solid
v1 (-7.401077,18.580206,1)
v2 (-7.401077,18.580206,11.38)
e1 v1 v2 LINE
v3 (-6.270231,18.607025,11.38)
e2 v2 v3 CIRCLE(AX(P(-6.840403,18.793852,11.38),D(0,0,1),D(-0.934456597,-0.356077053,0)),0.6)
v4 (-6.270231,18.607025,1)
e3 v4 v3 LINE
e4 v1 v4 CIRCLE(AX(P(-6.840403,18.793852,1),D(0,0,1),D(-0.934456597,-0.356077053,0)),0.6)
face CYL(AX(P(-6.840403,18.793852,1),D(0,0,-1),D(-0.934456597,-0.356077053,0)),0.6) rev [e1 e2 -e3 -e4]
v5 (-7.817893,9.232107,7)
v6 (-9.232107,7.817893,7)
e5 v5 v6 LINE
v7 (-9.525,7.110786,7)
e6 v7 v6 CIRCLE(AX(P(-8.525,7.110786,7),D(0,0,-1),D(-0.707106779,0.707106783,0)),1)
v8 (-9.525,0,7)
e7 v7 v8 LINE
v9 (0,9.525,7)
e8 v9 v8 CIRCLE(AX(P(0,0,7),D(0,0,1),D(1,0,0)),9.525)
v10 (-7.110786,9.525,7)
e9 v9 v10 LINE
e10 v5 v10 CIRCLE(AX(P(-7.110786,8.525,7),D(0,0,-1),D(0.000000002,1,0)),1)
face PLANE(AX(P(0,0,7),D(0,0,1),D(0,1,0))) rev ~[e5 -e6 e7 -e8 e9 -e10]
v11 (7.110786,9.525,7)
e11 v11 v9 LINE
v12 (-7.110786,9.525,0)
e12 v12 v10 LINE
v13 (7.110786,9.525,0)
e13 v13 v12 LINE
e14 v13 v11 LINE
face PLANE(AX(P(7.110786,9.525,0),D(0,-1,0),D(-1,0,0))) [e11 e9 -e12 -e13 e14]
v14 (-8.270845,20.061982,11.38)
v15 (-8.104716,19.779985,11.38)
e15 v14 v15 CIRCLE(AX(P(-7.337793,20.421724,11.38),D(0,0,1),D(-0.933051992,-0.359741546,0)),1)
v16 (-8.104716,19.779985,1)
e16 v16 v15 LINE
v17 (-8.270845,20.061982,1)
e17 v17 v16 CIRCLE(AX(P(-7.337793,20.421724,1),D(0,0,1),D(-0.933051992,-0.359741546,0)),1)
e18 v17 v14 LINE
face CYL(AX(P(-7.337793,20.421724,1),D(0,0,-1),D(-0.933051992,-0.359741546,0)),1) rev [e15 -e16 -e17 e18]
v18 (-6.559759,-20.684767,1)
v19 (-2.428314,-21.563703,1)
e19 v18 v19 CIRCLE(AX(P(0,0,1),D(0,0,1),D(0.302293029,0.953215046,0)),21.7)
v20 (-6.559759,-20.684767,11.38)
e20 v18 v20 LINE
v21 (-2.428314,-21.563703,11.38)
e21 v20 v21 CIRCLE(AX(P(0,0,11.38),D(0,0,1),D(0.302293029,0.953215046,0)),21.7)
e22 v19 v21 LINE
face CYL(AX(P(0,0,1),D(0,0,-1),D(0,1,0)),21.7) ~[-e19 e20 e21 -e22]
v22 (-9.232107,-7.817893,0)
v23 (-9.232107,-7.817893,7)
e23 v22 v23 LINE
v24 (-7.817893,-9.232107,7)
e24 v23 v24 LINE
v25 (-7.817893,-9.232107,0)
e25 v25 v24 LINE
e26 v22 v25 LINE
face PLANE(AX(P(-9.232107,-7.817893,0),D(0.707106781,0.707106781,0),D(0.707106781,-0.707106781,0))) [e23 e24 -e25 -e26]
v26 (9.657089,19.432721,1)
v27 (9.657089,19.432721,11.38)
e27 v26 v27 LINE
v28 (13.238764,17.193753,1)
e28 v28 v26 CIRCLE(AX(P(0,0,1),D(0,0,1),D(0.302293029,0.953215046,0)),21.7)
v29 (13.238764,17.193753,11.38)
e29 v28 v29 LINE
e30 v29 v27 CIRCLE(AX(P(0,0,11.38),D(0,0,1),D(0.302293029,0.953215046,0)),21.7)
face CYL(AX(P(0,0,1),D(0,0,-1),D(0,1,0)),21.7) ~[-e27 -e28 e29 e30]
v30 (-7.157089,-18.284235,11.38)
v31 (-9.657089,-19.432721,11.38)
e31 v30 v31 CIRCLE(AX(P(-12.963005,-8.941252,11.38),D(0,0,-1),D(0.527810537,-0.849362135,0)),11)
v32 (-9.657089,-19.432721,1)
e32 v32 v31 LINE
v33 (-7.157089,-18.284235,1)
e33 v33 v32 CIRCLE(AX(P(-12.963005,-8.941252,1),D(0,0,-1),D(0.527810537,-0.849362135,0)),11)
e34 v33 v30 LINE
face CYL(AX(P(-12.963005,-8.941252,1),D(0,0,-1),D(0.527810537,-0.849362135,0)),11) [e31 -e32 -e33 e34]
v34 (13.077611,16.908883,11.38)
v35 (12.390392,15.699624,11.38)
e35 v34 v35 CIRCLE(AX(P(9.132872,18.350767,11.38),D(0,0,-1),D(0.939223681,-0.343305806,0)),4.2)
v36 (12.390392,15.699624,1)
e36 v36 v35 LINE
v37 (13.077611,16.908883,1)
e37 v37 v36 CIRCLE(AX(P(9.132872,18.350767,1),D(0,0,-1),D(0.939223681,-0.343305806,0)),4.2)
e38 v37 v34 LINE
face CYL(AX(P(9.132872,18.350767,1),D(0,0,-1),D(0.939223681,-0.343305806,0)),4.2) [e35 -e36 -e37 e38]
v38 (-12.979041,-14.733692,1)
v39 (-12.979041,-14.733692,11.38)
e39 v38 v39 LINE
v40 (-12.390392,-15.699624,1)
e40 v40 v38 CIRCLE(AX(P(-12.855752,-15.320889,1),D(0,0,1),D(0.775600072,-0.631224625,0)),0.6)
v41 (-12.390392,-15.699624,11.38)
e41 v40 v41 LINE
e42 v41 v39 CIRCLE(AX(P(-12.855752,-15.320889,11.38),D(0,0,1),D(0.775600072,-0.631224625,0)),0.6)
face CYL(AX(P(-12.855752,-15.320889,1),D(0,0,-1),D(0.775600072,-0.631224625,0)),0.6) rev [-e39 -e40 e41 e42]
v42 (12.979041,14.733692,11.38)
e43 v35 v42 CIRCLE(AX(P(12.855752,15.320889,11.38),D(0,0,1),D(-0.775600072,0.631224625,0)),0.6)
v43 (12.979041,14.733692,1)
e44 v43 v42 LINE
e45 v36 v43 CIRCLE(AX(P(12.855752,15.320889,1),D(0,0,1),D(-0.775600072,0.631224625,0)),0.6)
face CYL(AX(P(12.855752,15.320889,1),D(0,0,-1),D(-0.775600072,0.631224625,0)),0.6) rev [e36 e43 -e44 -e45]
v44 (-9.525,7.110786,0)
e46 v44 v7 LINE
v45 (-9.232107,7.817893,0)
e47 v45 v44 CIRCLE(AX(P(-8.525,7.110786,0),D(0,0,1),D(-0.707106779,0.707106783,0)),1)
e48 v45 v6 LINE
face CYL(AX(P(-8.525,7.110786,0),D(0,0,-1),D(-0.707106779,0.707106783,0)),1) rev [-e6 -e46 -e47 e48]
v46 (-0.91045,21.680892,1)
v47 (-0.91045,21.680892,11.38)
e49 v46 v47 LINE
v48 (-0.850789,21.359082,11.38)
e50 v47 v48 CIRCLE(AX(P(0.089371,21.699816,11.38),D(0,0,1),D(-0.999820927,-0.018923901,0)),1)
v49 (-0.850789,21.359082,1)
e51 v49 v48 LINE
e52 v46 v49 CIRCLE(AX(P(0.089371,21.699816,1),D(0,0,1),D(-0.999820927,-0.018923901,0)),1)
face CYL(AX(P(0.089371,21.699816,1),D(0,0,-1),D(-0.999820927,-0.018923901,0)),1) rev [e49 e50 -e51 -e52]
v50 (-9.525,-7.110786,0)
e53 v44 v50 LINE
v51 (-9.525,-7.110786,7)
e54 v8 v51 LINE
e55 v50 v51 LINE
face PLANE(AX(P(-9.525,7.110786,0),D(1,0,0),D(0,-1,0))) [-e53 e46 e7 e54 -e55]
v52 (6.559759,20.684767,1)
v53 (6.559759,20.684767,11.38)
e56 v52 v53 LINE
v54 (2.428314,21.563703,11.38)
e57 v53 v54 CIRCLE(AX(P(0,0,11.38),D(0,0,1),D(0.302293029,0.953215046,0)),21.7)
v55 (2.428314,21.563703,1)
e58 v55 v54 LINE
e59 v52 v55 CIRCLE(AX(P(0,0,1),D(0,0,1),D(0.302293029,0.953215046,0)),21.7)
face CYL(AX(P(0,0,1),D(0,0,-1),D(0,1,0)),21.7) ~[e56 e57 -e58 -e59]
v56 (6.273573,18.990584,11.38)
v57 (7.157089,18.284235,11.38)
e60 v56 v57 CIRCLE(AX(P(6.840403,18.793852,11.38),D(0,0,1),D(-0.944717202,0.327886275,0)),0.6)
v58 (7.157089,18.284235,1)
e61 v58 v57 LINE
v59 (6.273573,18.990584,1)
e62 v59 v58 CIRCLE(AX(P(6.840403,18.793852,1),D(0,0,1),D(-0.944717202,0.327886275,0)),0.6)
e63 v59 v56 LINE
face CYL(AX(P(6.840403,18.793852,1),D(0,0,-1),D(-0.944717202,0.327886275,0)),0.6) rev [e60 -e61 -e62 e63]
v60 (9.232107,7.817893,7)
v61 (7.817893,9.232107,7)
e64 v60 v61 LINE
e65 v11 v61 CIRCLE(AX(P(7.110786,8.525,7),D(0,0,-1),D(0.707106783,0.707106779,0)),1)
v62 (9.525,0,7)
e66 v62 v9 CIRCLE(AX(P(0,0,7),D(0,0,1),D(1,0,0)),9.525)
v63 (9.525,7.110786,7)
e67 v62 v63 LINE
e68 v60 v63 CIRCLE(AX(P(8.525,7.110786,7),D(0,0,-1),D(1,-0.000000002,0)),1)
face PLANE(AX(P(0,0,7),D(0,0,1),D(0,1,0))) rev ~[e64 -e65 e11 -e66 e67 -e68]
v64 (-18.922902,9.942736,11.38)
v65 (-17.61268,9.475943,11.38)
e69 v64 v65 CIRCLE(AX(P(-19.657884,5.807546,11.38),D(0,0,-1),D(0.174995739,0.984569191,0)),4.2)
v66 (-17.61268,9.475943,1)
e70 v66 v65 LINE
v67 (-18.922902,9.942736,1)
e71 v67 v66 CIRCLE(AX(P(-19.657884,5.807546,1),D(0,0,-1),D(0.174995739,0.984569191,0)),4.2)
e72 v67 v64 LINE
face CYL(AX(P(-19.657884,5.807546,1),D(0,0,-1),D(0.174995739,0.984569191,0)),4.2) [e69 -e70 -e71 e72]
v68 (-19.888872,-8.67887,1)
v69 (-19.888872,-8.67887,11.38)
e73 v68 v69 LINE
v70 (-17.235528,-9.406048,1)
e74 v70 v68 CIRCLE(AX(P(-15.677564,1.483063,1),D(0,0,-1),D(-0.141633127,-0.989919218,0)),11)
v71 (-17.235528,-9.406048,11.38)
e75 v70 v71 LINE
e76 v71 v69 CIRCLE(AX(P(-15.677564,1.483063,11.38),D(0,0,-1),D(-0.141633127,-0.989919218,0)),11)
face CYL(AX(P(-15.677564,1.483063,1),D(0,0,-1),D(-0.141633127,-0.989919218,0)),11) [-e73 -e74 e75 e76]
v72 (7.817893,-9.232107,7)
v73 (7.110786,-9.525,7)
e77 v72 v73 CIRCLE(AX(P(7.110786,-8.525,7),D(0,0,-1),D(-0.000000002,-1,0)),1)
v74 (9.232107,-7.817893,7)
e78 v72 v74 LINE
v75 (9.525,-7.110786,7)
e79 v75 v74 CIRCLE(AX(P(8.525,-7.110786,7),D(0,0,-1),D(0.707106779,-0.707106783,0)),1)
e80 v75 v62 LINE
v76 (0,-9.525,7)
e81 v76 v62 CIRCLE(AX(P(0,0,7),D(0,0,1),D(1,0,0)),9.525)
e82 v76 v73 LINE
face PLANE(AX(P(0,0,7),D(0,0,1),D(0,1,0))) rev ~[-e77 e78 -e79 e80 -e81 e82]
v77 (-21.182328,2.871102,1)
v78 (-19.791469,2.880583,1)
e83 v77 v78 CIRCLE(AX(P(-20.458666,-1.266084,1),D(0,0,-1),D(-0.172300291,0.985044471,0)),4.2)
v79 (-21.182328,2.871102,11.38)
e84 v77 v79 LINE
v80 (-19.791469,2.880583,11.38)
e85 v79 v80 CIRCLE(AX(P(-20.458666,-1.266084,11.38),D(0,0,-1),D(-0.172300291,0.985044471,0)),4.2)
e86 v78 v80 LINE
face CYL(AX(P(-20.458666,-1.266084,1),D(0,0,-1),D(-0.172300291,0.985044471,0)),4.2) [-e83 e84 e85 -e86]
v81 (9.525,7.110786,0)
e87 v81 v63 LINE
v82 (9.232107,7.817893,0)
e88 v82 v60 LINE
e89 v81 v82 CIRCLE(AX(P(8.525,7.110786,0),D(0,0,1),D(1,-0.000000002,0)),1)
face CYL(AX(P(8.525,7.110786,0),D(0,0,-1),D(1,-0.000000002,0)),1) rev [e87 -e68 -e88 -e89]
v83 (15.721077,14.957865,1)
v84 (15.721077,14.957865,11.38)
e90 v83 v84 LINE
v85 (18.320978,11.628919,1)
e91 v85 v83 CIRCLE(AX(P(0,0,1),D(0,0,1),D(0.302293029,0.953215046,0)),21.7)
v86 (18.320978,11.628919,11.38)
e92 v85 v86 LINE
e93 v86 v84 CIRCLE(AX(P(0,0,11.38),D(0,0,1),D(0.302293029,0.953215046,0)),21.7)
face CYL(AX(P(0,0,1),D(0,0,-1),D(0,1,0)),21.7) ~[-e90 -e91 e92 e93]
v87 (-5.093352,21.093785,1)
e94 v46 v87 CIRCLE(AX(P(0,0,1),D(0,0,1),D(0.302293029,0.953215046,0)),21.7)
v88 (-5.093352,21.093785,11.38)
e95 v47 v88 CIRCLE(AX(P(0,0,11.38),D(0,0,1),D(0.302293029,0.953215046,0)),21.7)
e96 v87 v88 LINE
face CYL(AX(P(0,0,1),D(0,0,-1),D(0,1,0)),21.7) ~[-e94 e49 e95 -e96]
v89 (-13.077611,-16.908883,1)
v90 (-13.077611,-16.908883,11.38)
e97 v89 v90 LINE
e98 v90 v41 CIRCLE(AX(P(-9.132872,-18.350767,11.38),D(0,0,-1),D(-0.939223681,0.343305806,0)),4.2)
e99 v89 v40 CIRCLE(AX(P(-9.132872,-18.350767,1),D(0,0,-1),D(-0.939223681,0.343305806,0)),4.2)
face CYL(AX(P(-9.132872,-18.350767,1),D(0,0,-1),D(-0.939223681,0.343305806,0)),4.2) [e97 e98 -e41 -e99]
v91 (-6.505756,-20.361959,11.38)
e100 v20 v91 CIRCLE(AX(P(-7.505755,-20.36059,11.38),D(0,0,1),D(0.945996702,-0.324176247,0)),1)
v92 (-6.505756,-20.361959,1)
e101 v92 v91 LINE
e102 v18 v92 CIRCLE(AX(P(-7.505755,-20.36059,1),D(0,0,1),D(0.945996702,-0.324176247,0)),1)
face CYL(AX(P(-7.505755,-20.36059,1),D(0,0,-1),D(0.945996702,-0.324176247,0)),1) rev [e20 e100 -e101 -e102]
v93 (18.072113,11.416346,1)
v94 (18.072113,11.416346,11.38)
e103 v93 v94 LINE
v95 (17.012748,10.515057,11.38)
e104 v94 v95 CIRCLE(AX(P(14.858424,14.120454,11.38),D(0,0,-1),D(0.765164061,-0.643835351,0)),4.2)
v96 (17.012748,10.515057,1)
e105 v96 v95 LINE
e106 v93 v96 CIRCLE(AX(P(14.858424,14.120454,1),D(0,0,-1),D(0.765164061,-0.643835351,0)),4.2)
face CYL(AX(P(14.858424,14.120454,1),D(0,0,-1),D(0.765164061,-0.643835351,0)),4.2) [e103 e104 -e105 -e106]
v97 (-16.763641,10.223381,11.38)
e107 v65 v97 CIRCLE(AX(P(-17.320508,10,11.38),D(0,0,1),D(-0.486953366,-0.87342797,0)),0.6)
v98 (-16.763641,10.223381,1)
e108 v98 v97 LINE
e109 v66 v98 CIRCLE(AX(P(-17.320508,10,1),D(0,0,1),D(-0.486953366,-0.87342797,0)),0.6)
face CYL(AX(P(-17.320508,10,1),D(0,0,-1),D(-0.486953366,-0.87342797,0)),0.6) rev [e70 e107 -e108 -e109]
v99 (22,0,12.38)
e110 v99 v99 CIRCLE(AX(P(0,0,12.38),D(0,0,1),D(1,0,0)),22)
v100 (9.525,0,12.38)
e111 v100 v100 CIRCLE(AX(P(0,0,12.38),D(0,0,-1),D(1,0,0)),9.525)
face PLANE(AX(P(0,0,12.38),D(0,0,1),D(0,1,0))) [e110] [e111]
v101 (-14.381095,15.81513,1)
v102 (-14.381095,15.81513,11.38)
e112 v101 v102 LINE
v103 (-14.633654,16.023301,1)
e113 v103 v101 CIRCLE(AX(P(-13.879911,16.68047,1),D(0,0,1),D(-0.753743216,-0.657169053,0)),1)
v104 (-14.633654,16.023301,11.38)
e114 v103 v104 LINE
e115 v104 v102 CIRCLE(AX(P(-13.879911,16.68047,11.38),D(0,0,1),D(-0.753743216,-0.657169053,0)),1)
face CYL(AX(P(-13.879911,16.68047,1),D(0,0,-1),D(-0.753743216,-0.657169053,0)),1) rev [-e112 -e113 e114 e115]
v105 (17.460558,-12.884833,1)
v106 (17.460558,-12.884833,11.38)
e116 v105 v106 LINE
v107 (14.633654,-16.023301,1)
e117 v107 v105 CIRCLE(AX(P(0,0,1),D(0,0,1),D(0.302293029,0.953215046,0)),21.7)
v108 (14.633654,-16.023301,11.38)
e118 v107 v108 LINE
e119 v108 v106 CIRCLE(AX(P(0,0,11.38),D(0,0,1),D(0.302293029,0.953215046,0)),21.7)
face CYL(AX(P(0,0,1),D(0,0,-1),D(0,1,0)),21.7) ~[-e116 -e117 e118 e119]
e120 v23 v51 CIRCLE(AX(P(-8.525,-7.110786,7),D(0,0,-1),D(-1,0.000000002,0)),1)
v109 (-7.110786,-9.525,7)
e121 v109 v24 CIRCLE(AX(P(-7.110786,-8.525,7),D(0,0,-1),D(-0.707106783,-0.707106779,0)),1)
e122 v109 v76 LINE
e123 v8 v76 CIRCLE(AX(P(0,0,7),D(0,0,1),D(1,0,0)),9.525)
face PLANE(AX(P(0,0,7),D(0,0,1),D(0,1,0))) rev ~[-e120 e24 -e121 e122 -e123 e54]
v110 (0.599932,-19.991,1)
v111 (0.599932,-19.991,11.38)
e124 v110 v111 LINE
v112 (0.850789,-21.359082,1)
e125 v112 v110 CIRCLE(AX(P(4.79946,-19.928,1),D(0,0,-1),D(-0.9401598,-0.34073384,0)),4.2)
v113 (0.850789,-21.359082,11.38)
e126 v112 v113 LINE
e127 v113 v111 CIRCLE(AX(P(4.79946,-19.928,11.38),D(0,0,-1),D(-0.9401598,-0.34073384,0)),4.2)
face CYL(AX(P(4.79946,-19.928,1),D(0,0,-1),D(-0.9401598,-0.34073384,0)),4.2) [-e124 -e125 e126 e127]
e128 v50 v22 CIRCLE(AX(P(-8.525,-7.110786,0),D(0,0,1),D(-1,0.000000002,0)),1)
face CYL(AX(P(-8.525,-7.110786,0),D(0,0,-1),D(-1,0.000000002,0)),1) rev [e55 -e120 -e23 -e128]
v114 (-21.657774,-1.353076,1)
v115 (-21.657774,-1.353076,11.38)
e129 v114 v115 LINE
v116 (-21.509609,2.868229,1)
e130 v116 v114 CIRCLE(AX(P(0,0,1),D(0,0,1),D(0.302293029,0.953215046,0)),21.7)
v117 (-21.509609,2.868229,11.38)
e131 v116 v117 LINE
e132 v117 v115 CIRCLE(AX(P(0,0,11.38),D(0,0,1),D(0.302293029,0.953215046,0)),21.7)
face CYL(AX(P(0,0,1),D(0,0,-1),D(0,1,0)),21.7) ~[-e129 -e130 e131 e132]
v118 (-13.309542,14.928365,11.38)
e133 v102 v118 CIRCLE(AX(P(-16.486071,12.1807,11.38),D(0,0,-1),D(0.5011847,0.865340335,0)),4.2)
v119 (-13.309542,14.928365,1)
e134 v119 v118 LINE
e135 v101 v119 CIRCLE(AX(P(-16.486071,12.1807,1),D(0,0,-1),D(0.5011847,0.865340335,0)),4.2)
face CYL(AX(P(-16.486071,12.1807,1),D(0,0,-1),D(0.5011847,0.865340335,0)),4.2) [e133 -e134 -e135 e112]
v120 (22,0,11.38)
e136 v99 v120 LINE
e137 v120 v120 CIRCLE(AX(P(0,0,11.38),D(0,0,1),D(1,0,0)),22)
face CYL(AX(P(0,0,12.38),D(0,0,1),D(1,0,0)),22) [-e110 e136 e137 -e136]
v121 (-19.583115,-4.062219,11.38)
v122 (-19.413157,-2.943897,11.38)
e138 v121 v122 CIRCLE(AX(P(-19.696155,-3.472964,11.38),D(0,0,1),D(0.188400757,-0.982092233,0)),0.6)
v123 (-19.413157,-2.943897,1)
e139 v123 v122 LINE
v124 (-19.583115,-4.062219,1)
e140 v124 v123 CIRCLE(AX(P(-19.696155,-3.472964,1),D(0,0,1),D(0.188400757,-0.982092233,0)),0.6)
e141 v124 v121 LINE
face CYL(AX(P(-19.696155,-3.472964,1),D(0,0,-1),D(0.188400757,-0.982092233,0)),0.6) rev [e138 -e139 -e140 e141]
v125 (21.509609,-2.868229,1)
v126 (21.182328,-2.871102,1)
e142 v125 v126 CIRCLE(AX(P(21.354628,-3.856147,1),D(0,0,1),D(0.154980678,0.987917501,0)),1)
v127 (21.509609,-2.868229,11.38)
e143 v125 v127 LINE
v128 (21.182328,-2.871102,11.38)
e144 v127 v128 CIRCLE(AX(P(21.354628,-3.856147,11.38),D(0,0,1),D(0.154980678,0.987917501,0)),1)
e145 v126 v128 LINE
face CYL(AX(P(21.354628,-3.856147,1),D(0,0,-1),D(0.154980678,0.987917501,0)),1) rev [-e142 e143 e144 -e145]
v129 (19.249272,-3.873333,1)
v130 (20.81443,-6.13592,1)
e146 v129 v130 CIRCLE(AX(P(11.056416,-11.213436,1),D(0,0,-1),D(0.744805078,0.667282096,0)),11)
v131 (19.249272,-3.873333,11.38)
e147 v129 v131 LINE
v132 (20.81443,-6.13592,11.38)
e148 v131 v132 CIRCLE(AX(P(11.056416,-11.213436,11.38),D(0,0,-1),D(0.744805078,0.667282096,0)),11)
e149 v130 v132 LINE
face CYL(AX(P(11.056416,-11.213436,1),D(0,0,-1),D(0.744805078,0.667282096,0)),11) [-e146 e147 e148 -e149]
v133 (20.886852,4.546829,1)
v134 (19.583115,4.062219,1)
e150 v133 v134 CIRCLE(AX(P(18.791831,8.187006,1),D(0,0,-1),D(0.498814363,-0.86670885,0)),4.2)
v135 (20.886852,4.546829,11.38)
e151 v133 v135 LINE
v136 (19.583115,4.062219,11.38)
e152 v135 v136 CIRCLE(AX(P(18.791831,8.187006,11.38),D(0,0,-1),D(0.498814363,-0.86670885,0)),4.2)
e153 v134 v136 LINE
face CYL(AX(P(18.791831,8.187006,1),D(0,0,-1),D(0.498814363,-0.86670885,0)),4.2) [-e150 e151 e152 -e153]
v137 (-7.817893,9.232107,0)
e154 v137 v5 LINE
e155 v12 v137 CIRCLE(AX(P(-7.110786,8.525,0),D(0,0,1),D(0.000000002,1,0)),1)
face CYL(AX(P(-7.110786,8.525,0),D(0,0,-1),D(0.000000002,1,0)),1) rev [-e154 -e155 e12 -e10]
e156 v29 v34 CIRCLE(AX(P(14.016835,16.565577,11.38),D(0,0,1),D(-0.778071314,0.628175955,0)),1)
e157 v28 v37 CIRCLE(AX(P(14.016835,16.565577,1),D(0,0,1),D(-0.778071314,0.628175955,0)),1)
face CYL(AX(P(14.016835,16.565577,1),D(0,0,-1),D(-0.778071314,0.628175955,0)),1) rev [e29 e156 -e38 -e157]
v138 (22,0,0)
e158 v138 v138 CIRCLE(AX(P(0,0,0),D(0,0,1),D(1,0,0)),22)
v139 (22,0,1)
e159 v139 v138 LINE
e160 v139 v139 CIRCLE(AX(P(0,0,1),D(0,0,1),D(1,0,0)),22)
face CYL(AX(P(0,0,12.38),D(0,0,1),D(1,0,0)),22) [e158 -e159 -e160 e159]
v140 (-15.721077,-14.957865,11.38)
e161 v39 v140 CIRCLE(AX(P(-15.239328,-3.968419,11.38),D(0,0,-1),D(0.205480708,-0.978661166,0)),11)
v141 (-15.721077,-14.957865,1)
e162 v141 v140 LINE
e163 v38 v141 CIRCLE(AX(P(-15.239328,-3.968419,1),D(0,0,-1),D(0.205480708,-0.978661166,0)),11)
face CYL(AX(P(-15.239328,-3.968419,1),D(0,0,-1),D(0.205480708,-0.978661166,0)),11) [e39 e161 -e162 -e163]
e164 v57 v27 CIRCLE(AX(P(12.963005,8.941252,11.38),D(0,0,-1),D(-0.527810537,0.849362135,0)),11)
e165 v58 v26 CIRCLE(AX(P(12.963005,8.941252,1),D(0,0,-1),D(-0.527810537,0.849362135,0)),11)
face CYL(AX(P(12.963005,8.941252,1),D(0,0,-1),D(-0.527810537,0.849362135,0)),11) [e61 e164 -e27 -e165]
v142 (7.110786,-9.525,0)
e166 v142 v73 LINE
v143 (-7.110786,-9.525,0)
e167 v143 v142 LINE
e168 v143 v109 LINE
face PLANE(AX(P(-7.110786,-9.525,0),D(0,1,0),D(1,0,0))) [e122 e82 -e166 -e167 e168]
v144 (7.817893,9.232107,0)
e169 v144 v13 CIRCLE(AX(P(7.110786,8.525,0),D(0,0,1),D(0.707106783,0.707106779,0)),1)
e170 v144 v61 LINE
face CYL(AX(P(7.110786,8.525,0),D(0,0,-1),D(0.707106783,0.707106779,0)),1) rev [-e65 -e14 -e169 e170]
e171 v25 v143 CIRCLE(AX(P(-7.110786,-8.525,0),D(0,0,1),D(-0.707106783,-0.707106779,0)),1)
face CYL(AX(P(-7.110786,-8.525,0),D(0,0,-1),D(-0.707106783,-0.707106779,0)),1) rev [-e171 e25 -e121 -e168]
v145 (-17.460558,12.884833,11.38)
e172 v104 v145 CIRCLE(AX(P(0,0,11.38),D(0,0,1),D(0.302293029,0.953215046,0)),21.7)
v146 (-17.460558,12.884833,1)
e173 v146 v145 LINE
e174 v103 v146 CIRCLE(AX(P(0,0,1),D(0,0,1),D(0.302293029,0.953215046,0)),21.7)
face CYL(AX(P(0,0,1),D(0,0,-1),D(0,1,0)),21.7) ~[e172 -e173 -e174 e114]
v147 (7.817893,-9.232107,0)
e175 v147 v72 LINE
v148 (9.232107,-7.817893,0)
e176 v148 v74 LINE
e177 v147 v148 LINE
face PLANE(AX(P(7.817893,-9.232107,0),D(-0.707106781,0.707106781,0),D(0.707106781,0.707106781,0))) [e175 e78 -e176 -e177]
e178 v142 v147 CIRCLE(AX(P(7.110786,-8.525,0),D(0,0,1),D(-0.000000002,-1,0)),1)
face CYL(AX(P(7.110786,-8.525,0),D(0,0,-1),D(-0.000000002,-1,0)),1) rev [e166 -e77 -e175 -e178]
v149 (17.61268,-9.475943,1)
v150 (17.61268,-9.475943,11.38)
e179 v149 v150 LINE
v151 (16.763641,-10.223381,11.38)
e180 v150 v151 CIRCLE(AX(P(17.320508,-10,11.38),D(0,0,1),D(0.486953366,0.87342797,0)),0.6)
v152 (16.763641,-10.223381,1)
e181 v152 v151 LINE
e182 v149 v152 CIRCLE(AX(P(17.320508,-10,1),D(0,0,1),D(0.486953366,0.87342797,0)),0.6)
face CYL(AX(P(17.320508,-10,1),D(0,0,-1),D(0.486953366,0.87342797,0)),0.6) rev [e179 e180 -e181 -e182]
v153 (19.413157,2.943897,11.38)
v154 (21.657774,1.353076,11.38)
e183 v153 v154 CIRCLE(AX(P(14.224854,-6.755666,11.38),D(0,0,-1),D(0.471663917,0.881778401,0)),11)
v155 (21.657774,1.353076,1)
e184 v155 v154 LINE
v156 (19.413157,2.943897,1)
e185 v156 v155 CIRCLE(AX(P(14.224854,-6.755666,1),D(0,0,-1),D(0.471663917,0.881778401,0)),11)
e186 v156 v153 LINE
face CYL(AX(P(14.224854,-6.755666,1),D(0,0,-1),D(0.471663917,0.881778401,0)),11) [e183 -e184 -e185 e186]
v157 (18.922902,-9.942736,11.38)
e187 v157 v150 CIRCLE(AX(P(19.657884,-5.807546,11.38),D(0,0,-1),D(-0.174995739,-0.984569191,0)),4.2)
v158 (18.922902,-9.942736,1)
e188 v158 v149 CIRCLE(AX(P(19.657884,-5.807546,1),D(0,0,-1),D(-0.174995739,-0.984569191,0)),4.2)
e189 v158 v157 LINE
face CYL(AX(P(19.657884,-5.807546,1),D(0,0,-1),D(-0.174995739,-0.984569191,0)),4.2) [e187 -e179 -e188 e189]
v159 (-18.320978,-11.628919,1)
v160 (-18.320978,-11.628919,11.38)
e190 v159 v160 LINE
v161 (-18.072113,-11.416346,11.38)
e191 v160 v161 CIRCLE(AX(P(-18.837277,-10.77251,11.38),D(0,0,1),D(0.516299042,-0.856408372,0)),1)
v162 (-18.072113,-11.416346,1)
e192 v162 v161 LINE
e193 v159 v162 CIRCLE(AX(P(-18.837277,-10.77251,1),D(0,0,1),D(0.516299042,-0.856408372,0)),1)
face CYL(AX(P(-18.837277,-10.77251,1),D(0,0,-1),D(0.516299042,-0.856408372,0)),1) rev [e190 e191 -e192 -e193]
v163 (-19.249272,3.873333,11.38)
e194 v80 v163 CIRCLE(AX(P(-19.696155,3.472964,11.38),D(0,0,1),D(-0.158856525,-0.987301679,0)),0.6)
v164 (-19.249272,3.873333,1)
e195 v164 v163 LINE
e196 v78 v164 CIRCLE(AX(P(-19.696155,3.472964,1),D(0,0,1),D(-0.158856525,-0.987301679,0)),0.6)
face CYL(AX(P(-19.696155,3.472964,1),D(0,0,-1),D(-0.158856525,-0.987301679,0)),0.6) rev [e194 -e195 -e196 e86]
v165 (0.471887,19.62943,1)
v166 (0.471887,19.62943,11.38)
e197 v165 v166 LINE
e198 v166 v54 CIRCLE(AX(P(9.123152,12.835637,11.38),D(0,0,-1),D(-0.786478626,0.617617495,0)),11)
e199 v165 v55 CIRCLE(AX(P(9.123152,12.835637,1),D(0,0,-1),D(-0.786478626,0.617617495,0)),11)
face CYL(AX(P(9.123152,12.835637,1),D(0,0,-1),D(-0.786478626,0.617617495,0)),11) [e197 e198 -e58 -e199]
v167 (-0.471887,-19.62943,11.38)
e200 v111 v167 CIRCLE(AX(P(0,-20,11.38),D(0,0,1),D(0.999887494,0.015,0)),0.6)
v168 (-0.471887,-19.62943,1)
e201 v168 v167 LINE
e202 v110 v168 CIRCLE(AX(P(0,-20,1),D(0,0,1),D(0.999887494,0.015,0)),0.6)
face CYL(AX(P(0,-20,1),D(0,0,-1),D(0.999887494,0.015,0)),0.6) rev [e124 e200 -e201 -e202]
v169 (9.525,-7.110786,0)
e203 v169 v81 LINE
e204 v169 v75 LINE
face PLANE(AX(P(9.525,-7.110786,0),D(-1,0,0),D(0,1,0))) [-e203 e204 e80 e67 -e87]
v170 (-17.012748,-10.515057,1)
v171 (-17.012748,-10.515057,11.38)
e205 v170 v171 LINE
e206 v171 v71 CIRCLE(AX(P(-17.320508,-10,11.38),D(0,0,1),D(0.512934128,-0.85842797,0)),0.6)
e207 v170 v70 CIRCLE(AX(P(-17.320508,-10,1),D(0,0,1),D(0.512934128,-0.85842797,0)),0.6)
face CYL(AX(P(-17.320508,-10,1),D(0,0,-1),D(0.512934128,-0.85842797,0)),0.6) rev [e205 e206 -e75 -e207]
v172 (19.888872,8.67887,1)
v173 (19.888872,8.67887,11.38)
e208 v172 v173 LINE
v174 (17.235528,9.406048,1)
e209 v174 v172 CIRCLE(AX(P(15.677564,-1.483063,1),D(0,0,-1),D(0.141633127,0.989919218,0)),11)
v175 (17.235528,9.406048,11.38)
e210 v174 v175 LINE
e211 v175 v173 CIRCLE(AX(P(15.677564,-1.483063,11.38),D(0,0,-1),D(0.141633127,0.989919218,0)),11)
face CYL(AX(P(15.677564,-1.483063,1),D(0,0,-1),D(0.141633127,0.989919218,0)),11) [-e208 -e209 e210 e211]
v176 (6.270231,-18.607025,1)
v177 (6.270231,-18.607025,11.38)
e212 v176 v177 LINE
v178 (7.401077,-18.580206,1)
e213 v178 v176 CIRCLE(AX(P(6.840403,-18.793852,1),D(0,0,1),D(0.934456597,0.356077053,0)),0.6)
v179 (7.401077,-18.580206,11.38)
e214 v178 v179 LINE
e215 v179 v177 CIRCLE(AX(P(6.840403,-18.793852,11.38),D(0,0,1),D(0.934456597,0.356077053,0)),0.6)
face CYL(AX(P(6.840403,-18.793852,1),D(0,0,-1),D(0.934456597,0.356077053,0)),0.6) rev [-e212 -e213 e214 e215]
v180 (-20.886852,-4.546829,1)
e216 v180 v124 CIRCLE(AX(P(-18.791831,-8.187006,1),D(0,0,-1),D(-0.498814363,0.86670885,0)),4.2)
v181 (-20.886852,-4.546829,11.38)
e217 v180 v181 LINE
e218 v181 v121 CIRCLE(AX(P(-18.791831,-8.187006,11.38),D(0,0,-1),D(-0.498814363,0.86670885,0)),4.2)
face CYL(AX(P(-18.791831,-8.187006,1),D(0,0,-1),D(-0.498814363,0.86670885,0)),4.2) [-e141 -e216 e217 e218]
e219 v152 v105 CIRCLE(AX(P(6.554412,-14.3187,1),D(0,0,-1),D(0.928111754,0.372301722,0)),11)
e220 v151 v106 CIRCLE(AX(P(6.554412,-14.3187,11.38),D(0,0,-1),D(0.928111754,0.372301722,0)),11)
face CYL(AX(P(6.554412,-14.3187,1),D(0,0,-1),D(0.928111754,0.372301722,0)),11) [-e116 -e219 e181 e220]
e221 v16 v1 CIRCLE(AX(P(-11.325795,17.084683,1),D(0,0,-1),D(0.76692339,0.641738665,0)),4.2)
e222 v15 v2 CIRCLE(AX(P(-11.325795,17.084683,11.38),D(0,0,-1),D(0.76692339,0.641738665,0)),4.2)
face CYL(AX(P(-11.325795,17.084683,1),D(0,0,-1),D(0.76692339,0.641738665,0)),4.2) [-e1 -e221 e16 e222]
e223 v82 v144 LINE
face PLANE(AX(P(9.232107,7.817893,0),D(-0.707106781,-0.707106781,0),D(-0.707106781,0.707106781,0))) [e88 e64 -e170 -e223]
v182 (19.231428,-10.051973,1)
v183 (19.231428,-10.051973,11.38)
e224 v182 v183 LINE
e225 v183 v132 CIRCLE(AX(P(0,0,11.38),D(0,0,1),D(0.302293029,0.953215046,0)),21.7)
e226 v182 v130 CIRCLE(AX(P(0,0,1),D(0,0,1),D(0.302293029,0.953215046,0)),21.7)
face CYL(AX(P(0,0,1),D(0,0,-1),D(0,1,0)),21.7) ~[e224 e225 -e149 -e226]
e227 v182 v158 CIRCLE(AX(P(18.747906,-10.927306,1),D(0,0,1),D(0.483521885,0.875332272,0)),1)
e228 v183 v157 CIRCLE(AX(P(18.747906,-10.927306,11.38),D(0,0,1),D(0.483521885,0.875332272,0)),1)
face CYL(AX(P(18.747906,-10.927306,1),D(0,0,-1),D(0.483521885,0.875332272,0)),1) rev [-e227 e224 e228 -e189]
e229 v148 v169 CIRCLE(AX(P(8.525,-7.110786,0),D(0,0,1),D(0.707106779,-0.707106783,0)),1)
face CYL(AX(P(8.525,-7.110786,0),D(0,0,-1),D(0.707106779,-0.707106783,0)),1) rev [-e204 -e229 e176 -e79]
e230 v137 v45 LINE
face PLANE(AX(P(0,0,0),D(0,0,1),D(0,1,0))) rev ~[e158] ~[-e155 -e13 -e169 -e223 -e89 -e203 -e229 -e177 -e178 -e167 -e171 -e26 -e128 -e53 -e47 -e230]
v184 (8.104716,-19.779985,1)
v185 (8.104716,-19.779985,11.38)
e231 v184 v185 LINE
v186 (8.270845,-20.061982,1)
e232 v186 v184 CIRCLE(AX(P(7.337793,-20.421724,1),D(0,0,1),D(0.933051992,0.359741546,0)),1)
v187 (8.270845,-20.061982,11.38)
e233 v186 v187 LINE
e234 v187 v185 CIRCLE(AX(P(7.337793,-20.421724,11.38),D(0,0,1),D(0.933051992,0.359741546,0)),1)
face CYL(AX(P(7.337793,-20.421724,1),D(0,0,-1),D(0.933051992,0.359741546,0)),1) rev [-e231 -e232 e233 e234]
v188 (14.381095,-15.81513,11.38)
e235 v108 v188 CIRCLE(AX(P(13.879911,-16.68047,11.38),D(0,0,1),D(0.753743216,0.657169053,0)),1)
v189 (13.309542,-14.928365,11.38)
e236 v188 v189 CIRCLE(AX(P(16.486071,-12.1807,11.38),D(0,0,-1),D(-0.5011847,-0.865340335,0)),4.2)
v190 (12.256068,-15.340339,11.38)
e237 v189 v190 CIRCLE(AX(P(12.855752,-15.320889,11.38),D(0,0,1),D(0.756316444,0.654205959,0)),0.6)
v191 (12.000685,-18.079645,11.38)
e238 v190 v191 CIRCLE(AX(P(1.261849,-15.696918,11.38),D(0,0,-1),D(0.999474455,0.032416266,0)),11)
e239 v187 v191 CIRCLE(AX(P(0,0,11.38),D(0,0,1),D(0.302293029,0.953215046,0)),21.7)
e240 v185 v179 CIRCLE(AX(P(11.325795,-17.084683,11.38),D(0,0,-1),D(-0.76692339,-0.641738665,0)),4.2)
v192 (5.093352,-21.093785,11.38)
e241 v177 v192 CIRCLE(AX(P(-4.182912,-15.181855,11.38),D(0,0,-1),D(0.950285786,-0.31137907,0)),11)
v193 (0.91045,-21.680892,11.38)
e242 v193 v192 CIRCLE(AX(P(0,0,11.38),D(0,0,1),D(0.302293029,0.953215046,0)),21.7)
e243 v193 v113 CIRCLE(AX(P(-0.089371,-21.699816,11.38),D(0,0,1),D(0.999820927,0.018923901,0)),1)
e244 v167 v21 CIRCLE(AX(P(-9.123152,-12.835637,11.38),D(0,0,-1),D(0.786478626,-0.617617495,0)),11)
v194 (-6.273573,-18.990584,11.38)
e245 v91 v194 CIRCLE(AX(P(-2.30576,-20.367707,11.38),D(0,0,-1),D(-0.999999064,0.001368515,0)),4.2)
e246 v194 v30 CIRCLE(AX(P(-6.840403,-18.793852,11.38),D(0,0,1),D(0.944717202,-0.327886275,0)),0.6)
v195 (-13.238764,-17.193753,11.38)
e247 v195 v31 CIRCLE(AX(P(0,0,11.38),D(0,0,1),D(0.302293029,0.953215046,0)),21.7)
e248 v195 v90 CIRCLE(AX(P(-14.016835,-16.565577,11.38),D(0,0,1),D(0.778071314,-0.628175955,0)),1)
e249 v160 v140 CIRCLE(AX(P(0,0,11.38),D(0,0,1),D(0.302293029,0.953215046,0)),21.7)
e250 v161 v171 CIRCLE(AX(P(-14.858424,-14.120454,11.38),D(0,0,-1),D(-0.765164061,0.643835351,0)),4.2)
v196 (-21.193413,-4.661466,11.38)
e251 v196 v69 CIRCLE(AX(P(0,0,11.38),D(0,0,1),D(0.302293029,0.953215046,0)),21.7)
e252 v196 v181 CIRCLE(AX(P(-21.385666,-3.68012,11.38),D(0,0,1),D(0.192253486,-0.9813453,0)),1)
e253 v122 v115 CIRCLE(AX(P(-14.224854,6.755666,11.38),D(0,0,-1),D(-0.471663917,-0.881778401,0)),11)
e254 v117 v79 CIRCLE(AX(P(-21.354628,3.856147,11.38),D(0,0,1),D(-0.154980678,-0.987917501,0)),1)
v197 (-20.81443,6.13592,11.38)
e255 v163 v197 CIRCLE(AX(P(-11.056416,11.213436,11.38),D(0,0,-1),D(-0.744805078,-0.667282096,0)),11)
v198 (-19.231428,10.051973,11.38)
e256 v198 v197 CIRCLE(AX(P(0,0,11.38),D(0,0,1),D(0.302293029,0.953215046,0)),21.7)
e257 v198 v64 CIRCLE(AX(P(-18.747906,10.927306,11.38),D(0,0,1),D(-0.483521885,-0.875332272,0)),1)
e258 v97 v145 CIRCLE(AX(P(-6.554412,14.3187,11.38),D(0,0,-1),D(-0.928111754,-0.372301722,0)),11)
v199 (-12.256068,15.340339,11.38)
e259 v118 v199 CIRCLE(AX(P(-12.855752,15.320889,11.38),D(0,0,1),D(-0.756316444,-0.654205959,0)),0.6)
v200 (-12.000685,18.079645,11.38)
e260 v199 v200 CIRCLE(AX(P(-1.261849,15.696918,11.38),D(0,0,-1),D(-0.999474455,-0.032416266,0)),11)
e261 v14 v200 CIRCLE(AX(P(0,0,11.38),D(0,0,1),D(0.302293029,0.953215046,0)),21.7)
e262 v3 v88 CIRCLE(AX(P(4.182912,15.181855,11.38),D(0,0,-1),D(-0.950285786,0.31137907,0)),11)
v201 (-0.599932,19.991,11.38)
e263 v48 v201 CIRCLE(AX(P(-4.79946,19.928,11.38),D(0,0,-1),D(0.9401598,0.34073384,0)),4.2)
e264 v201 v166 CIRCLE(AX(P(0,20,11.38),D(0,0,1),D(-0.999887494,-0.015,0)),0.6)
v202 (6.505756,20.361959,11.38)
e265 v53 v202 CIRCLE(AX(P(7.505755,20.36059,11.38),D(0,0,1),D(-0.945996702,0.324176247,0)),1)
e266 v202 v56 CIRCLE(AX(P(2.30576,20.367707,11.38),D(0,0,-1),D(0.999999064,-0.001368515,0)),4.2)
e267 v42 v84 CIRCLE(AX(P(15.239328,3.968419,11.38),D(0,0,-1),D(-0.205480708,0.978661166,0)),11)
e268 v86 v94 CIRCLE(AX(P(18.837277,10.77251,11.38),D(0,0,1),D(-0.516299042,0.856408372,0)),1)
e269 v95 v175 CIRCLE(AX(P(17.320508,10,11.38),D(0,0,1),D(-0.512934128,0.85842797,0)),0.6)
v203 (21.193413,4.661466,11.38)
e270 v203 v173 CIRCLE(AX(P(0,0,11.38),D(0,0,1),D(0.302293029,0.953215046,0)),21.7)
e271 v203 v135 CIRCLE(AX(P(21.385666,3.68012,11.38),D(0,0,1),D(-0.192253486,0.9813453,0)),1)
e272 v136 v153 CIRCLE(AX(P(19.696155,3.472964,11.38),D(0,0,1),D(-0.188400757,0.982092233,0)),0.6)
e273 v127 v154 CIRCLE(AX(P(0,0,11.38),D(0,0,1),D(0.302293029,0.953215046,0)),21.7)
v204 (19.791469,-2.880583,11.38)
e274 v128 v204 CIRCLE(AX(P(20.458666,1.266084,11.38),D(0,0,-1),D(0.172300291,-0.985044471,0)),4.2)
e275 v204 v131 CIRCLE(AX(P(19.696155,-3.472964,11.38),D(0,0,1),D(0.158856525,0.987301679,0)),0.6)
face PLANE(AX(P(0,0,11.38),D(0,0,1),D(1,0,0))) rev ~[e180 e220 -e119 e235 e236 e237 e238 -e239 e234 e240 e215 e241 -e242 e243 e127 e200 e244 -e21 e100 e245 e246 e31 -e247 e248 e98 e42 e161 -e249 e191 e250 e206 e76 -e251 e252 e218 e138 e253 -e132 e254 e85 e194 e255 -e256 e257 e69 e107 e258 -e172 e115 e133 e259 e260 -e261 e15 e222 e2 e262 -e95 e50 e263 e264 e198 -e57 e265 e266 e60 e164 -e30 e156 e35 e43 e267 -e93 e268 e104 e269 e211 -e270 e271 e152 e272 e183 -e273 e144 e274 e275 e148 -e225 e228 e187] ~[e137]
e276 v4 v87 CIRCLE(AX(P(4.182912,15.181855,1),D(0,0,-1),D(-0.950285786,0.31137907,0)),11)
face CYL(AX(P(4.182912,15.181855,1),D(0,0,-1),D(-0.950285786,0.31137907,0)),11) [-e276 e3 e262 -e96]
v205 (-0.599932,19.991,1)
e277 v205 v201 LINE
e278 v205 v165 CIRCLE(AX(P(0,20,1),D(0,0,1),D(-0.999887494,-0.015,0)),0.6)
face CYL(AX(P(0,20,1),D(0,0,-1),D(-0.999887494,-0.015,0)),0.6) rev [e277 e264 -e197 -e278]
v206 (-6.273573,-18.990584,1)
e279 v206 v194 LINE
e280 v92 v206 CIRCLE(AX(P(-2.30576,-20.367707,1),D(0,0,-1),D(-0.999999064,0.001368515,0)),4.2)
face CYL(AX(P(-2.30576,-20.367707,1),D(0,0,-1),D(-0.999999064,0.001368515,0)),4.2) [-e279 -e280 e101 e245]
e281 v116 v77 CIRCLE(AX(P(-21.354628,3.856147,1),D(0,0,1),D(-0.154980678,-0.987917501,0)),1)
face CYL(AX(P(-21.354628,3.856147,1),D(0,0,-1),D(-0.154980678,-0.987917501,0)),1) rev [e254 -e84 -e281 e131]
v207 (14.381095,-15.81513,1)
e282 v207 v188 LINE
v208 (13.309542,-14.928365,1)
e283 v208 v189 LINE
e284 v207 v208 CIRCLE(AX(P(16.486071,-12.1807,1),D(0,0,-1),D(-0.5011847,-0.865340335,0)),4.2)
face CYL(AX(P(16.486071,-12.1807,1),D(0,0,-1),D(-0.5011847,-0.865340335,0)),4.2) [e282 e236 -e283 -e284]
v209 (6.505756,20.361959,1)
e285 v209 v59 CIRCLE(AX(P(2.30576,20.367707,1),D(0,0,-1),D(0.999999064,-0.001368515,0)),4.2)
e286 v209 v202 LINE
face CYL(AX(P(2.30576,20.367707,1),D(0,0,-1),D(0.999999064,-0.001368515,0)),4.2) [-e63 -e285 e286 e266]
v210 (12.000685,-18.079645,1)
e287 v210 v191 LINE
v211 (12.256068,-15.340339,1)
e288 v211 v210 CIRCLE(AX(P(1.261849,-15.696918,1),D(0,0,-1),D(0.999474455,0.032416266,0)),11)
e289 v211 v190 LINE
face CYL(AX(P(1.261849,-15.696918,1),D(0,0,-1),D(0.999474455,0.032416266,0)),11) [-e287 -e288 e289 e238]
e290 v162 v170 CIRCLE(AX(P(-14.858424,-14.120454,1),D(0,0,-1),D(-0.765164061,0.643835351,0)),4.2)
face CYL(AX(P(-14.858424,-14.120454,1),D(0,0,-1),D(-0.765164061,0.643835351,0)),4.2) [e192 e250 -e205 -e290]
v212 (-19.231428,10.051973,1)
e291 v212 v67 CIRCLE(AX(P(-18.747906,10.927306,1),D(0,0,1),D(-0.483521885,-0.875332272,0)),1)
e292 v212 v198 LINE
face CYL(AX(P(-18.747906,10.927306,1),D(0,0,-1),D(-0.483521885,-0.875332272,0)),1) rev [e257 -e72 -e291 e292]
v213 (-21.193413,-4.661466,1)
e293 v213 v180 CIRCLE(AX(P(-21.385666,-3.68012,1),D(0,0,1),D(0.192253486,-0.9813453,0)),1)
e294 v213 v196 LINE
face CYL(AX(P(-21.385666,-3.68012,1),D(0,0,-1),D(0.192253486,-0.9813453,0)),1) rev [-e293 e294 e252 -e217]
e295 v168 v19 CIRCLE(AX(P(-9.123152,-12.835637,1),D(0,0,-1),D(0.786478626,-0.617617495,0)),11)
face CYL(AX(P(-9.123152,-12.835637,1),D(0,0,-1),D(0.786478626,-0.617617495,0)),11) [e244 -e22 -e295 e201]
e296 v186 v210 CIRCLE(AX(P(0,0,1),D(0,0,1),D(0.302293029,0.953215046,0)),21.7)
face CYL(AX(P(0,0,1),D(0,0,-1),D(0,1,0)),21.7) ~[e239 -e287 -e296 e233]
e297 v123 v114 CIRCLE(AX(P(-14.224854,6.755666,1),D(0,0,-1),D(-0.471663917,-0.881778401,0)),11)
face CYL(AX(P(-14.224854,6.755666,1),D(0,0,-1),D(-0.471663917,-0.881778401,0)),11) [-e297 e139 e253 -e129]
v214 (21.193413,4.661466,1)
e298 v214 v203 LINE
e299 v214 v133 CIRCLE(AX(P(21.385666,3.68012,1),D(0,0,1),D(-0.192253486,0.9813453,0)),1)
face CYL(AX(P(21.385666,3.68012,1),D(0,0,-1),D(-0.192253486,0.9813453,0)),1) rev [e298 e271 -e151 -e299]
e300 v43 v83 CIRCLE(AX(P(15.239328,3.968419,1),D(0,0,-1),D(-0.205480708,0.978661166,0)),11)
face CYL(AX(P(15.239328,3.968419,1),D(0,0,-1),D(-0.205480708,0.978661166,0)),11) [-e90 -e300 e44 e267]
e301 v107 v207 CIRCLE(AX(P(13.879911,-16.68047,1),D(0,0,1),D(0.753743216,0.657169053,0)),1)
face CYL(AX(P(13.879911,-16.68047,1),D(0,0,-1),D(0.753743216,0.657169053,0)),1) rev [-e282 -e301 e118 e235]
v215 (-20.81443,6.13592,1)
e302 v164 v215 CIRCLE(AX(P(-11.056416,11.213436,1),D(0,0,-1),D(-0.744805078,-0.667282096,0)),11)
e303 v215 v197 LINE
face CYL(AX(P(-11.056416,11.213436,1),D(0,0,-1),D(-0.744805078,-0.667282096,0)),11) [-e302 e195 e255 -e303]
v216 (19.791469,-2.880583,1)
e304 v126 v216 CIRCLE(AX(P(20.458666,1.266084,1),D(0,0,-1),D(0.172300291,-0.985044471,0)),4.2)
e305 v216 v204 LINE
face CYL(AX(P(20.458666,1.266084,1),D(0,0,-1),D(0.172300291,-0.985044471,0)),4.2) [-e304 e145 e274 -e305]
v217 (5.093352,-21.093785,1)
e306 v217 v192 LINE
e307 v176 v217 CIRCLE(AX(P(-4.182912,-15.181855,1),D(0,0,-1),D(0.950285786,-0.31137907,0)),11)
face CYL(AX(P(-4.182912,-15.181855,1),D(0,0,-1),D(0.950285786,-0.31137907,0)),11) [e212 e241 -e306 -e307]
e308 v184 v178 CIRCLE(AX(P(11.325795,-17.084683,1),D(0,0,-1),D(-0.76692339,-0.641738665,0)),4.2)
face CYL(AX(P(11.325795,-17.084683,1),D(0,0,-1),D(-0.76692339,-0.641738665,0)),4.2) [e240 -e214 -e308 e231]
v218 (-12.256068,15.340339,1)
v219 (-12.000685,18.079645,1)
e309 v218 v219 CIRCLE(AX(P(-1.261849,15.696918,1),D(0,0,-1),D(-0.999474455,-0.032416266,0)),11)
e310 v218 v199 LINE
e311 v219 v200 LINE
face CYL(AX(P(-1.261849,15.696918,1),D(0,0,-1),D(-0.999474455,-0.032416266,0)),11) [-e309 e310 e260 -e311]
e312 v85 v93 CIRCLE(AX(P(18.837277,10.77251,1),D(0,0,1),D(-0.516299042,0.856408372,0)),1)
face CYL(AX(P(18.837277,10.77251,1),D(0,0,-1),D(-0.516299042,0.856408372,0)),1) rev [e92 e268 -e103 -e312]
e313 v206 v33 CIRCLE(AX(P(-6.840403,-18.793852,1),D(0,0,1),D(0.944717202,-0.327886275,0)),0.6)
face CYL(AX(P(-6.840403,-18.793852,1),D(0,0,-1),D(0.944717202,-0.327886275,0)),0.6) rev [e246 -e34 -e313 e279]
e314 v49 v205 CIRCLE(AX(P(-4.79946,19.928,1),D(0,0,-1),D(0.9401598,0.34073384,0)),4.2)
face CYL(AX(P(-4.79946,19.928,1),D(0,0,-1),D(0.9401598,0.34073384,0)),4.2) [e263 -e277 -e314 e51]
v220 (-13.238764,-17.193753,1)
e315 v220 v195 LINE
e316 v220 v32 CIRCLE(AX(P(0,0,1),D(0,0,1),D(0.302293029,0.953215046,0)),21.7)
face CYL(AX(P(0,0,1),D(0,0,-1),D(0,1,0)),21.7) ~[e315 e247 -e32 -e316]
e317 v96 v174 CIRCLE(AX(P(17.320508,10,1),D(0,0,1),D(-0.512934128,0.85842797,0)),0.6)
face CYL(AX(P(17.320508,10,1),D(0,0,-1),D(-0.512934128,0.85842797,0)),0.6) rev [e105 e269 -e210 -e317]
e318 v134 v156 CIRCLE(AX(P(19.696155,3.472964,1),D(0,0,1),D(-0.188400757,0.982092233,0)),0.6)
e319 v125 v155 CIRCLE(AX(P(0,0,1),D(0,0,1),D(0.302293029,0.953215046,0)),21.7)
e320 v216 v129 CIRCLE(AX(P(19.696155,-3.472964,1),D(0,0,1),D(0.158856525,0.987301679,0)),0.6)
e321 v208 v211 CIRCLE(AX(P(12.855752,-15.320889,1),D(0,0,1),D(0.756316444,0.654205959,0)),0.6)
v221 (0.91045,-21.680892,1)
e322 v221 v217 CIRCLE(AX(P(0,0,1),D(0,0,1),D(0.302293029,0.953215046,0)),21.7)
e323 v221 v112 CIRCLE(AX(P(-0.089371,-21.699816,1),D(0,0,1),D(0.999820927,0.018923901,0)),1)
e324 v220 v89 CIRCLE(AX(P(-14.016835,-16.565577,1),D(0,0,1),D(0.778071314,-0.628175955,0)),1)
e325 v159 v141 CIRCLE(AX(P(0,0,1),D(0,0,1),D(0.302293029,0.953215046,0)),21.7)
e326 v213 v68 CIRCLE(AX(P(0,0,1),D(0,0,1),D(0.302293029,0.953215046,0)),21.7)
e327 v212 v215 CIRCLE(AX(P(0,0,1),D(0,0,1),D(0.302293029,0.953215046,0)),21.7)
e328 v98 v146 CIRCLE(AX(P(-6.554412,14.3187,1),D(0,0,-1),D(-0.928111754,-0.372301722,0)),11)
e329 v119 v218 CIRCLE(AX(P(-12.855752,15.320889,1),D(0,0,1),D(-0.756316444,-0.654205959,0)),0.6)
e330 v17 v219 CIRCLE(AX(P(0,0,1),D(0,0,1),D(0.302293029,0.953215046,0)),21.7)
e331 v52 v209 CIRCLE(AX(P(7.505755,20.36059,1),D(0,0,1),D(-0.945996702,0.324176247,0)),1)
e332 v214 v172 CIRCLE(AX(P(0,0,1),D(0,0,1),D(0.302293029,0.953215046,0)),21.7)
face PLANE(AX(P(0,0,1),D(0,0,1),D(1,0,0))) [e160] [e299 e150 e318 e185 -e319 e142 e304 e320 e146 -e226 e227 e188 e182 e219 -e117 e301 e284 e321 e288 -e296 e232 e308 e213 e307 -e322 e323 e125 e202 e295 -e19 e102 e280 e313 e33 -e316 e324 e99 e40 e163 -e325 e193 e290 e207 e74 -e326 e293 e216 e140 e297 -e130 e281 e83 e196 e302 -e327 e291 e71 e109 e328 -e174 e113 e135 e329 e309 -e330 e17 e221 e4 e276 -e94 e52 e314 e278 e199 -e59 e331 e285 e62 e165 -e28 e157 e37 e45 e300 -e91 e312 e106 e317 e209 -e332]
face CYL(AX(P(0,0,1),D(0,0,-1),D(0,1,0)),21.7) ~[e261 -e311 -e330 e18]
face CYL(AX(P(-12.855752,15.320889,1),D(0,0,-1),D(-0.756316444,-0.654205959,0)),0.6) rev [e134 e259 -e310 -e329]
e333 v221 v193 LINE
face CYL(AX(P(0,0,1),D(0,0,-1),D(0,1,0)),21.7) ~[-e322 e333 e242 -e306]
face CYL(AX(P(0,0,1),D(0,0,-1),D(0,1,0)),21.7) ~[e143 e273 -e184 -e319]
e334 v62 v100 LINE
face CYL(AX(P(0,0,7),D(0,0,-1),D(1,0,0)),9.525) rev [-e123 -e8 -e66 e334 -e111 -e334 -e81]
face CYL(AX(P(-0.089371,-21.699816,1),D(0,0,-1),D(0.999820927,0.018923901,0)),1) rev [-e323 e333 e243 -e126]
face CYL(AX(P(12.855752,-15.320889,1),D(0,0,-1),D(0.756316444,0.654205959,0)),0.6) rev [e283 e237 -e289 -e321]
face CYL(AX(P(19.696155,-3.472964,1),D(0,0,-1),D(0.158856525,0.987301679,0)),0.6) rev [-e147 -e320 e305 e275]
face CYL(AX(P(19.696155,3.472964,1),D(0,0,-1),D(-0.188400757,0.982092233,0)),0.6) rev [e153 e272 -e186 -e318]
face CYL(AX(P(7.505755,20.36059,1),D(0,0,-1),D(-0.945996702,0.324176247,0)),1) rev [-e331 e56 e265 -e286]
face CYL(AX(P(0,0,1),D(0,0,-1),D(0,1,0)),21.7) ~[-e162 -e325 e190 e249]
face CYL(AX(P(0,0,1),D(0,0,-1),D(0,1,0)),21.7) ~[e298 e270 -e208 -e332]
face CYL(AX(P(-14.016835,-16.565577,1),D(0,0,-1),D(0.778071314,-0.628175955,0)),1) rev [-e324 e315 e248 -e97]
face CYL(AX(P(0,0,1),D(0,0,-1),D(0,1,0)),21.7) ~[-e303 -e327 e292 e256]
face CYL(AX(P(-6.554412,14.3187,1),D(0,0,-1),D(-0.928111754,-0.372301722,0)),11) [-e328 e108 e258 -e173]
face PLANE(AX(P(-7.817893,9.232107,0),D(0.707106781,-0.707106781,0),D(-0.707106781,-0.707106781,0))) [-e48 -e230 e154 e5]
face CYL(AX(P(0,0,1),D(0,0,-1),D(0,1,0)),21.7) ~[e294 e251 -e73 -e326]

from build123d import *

# Parameters (mm, degrees)
SKETCH1_R             = 25
BOSS_EXTRUDE1_DEPTH   = 12.38
BOSS_EXTRUDE4_START   = -5.38
SKETCH9_R             = 25
SKETCH9_R_2           = 9.525
BOSS_EXTRUDE4_DEPTH   = 5.38
SKETCH4_OUTSIDE_W     = 66.358
SKETCH4_OUTSIDE_H     = 66.358
SKETCH4_OUTSIDE_R     = 22
TREAD_CLEARANCE_DEPTH = 38.460170849
CUT_EXTRUDE2_START    = 1
SKETCH5_OUTSIDE_W     = 58.688
SKETCH5_OUTSIDE_H     = 58.688
SKETCH5_OUTSIDE_R     = 21.7
CUT_EXTRUDE2_DEPTH    = 10.38
CUT_EXTRUDE3_DEPTH    = 10.38
CIRPATTERN4_COUNT     = 18


with BuildPart() as part:
    # Sketch1 → Boss-Extrude1 (new body)
    with BuildSketch(Plane.XY):
        with Locations(Location((0, 0, 0), (0, 0, 90))):
            Circle(SKETCH1_R)
        with BuildLine():
            Line((9.525, -7.110786438), (9.525, 7.110786438))
            ThreePointArc((9.525, 7.110786438), (9.448879533, 7.49346987), (9.232106781, 7.817893219))
            Line((9.232106781, 7.817893219), (7.817893219, 9.232106781))
            ThreePointArc((7.817893219, 9.232106781), (7.49346987, 9.448879533), (7.110786438, 9.525))
            Line((7.110786438, 9.525), (-7.110786438, 9.525))
            ThreePointArc((-7.110786438, 9.525), (-7.49346987, 9.448879533), (-7.817893219, 9.232106781))
            Line((-7.817893219, 9.232106781), (-9.232106781, 7.817893219))
            ThreePointArc((-9.232106781, 7.817893219), (-9.448879533, 7.49346987), (-9.525, 7.110786438))
            Line((-9.525, 7.110786438), (-9.525, -7.110786438))
            ThreePointArc((-9.525, -7.110786438), (-9.448879533, -7.49346987), (-9.232106781, -7.817893219))
            Line((-9.232106781, -7.817893219), (-7.817893219, -9.232106781))
            ThreePointArc((-7.817893219, -9.232106781), (-7.49346987, -9.448879533), (-7.110786438, -9.525))
            Line((-7.110786438, -9.525), (7.110786438, -9.525))
            ThreePointArc((7.110786438, -9.525), (7.49346987, -9.448879533), (7.817893219, -9.232106781))
            Line((7.817893219, -9.232106781), (9.232106781, -7.817893219))
            ThreePointArc((9.232106781, -7.817893219), (9.448879533, -7.49346987), (9.525, -7.110786438))
        make_face(mode=Mode.SUBTRACT)
    extrude(amount=BOSS_EXTRUDE1_DEPTH)

    # Sketch9 → Boss-Extrude4 (add)
    with BuildSketch(Plane.XY.offset(12.38).offset(BOSS_EXTRUDE4_START)):
        with Locations(Location((0, 0, 0), (0, 0, 90))):
            Circle(SKETCH9_R)
        Circle(SKETCH9_R_2, mode=Mode.SUBTRACT)
    extrude(amount=BOSS_EXTRUDE4_DEPTH)

    # Sketch4 outside → Tread Clearance (cut, through all)
    with BuildSketch(Plane.XY.offset(12.38)):
        Rectangle(SKETCH4_OUTSIDE_W, SKETCH4_OUTSIDE_H)
        Circle(SKETCH4_OUTSIDE_R, mode=Mode.SUBTRACT)
    extrude(amount=-TREAD_CLEARANCE_DEPTH, mode=Mode.SUBTRACT)

    # Sketch5 outside → Cut-Extrude2 (cut)
    with BuildSketch(Plane.XY.offset(CUT_EXTRUDE2_START)):
        Rectangle(SKETCH5_OUTSIDE_W, SKETCH5_OUTSIDE_H)
        with Locations(Location((0, 0, 0), (0, 0, 90))):
            Circle(SKETCH5_OUTSIDE_R, mode=Mode.SUBTRACT)
    extrude(amount=CUT_EXTRUDE2_DEPTH, mode=Mode.SUBTRACT)

    # Sketch6 → Cut-Extrude3 (cut)
    with BuildSketch(Plane.XY.offset(1)):
        with BuildLine():
            ThreePointArc((6.505756366, 20.361958768), (6.446827822, 19.666593295), (6.273572546, 18.99058418))
            ThreePointArc((6.273572546, 18.99058418), (6.465736016, 18.325211027), (7.157089189, 18.284235134))
            ThreePointArc((7.157089189, 18.284235134), (8.371042068, 18.936944495), (9.657089189, 19.432720561))
            ThreePointArc((9.657089189, 19.432720561), (8.132554572, 20.118438213), (6.559758729, 20.684766506))
            ThreePointArc((6.559758729, 20.684766506), (6.519461312, 20.525586959), (6.505756366, 20.361958768))
        make_face()
    cut_extrude3 = extrude(amount=CUT_EXTRUDE3_DEPTH, mode=Mode.SUBTRACT)

    # CirPattern4: Cut-Extrude3 ×18 about axis
    cirpattern4_axis = Axis((0, 0, 0), (0, 0, 1))
    for i in range(1, CIRPATTERN4_COUNT):
        add(cut_extrude3.rotate(cirpattern4_axis, i * 360 / CIRPATTERN4_COUNT), mode=Mode.SUBTRACT)


solid = part.part
